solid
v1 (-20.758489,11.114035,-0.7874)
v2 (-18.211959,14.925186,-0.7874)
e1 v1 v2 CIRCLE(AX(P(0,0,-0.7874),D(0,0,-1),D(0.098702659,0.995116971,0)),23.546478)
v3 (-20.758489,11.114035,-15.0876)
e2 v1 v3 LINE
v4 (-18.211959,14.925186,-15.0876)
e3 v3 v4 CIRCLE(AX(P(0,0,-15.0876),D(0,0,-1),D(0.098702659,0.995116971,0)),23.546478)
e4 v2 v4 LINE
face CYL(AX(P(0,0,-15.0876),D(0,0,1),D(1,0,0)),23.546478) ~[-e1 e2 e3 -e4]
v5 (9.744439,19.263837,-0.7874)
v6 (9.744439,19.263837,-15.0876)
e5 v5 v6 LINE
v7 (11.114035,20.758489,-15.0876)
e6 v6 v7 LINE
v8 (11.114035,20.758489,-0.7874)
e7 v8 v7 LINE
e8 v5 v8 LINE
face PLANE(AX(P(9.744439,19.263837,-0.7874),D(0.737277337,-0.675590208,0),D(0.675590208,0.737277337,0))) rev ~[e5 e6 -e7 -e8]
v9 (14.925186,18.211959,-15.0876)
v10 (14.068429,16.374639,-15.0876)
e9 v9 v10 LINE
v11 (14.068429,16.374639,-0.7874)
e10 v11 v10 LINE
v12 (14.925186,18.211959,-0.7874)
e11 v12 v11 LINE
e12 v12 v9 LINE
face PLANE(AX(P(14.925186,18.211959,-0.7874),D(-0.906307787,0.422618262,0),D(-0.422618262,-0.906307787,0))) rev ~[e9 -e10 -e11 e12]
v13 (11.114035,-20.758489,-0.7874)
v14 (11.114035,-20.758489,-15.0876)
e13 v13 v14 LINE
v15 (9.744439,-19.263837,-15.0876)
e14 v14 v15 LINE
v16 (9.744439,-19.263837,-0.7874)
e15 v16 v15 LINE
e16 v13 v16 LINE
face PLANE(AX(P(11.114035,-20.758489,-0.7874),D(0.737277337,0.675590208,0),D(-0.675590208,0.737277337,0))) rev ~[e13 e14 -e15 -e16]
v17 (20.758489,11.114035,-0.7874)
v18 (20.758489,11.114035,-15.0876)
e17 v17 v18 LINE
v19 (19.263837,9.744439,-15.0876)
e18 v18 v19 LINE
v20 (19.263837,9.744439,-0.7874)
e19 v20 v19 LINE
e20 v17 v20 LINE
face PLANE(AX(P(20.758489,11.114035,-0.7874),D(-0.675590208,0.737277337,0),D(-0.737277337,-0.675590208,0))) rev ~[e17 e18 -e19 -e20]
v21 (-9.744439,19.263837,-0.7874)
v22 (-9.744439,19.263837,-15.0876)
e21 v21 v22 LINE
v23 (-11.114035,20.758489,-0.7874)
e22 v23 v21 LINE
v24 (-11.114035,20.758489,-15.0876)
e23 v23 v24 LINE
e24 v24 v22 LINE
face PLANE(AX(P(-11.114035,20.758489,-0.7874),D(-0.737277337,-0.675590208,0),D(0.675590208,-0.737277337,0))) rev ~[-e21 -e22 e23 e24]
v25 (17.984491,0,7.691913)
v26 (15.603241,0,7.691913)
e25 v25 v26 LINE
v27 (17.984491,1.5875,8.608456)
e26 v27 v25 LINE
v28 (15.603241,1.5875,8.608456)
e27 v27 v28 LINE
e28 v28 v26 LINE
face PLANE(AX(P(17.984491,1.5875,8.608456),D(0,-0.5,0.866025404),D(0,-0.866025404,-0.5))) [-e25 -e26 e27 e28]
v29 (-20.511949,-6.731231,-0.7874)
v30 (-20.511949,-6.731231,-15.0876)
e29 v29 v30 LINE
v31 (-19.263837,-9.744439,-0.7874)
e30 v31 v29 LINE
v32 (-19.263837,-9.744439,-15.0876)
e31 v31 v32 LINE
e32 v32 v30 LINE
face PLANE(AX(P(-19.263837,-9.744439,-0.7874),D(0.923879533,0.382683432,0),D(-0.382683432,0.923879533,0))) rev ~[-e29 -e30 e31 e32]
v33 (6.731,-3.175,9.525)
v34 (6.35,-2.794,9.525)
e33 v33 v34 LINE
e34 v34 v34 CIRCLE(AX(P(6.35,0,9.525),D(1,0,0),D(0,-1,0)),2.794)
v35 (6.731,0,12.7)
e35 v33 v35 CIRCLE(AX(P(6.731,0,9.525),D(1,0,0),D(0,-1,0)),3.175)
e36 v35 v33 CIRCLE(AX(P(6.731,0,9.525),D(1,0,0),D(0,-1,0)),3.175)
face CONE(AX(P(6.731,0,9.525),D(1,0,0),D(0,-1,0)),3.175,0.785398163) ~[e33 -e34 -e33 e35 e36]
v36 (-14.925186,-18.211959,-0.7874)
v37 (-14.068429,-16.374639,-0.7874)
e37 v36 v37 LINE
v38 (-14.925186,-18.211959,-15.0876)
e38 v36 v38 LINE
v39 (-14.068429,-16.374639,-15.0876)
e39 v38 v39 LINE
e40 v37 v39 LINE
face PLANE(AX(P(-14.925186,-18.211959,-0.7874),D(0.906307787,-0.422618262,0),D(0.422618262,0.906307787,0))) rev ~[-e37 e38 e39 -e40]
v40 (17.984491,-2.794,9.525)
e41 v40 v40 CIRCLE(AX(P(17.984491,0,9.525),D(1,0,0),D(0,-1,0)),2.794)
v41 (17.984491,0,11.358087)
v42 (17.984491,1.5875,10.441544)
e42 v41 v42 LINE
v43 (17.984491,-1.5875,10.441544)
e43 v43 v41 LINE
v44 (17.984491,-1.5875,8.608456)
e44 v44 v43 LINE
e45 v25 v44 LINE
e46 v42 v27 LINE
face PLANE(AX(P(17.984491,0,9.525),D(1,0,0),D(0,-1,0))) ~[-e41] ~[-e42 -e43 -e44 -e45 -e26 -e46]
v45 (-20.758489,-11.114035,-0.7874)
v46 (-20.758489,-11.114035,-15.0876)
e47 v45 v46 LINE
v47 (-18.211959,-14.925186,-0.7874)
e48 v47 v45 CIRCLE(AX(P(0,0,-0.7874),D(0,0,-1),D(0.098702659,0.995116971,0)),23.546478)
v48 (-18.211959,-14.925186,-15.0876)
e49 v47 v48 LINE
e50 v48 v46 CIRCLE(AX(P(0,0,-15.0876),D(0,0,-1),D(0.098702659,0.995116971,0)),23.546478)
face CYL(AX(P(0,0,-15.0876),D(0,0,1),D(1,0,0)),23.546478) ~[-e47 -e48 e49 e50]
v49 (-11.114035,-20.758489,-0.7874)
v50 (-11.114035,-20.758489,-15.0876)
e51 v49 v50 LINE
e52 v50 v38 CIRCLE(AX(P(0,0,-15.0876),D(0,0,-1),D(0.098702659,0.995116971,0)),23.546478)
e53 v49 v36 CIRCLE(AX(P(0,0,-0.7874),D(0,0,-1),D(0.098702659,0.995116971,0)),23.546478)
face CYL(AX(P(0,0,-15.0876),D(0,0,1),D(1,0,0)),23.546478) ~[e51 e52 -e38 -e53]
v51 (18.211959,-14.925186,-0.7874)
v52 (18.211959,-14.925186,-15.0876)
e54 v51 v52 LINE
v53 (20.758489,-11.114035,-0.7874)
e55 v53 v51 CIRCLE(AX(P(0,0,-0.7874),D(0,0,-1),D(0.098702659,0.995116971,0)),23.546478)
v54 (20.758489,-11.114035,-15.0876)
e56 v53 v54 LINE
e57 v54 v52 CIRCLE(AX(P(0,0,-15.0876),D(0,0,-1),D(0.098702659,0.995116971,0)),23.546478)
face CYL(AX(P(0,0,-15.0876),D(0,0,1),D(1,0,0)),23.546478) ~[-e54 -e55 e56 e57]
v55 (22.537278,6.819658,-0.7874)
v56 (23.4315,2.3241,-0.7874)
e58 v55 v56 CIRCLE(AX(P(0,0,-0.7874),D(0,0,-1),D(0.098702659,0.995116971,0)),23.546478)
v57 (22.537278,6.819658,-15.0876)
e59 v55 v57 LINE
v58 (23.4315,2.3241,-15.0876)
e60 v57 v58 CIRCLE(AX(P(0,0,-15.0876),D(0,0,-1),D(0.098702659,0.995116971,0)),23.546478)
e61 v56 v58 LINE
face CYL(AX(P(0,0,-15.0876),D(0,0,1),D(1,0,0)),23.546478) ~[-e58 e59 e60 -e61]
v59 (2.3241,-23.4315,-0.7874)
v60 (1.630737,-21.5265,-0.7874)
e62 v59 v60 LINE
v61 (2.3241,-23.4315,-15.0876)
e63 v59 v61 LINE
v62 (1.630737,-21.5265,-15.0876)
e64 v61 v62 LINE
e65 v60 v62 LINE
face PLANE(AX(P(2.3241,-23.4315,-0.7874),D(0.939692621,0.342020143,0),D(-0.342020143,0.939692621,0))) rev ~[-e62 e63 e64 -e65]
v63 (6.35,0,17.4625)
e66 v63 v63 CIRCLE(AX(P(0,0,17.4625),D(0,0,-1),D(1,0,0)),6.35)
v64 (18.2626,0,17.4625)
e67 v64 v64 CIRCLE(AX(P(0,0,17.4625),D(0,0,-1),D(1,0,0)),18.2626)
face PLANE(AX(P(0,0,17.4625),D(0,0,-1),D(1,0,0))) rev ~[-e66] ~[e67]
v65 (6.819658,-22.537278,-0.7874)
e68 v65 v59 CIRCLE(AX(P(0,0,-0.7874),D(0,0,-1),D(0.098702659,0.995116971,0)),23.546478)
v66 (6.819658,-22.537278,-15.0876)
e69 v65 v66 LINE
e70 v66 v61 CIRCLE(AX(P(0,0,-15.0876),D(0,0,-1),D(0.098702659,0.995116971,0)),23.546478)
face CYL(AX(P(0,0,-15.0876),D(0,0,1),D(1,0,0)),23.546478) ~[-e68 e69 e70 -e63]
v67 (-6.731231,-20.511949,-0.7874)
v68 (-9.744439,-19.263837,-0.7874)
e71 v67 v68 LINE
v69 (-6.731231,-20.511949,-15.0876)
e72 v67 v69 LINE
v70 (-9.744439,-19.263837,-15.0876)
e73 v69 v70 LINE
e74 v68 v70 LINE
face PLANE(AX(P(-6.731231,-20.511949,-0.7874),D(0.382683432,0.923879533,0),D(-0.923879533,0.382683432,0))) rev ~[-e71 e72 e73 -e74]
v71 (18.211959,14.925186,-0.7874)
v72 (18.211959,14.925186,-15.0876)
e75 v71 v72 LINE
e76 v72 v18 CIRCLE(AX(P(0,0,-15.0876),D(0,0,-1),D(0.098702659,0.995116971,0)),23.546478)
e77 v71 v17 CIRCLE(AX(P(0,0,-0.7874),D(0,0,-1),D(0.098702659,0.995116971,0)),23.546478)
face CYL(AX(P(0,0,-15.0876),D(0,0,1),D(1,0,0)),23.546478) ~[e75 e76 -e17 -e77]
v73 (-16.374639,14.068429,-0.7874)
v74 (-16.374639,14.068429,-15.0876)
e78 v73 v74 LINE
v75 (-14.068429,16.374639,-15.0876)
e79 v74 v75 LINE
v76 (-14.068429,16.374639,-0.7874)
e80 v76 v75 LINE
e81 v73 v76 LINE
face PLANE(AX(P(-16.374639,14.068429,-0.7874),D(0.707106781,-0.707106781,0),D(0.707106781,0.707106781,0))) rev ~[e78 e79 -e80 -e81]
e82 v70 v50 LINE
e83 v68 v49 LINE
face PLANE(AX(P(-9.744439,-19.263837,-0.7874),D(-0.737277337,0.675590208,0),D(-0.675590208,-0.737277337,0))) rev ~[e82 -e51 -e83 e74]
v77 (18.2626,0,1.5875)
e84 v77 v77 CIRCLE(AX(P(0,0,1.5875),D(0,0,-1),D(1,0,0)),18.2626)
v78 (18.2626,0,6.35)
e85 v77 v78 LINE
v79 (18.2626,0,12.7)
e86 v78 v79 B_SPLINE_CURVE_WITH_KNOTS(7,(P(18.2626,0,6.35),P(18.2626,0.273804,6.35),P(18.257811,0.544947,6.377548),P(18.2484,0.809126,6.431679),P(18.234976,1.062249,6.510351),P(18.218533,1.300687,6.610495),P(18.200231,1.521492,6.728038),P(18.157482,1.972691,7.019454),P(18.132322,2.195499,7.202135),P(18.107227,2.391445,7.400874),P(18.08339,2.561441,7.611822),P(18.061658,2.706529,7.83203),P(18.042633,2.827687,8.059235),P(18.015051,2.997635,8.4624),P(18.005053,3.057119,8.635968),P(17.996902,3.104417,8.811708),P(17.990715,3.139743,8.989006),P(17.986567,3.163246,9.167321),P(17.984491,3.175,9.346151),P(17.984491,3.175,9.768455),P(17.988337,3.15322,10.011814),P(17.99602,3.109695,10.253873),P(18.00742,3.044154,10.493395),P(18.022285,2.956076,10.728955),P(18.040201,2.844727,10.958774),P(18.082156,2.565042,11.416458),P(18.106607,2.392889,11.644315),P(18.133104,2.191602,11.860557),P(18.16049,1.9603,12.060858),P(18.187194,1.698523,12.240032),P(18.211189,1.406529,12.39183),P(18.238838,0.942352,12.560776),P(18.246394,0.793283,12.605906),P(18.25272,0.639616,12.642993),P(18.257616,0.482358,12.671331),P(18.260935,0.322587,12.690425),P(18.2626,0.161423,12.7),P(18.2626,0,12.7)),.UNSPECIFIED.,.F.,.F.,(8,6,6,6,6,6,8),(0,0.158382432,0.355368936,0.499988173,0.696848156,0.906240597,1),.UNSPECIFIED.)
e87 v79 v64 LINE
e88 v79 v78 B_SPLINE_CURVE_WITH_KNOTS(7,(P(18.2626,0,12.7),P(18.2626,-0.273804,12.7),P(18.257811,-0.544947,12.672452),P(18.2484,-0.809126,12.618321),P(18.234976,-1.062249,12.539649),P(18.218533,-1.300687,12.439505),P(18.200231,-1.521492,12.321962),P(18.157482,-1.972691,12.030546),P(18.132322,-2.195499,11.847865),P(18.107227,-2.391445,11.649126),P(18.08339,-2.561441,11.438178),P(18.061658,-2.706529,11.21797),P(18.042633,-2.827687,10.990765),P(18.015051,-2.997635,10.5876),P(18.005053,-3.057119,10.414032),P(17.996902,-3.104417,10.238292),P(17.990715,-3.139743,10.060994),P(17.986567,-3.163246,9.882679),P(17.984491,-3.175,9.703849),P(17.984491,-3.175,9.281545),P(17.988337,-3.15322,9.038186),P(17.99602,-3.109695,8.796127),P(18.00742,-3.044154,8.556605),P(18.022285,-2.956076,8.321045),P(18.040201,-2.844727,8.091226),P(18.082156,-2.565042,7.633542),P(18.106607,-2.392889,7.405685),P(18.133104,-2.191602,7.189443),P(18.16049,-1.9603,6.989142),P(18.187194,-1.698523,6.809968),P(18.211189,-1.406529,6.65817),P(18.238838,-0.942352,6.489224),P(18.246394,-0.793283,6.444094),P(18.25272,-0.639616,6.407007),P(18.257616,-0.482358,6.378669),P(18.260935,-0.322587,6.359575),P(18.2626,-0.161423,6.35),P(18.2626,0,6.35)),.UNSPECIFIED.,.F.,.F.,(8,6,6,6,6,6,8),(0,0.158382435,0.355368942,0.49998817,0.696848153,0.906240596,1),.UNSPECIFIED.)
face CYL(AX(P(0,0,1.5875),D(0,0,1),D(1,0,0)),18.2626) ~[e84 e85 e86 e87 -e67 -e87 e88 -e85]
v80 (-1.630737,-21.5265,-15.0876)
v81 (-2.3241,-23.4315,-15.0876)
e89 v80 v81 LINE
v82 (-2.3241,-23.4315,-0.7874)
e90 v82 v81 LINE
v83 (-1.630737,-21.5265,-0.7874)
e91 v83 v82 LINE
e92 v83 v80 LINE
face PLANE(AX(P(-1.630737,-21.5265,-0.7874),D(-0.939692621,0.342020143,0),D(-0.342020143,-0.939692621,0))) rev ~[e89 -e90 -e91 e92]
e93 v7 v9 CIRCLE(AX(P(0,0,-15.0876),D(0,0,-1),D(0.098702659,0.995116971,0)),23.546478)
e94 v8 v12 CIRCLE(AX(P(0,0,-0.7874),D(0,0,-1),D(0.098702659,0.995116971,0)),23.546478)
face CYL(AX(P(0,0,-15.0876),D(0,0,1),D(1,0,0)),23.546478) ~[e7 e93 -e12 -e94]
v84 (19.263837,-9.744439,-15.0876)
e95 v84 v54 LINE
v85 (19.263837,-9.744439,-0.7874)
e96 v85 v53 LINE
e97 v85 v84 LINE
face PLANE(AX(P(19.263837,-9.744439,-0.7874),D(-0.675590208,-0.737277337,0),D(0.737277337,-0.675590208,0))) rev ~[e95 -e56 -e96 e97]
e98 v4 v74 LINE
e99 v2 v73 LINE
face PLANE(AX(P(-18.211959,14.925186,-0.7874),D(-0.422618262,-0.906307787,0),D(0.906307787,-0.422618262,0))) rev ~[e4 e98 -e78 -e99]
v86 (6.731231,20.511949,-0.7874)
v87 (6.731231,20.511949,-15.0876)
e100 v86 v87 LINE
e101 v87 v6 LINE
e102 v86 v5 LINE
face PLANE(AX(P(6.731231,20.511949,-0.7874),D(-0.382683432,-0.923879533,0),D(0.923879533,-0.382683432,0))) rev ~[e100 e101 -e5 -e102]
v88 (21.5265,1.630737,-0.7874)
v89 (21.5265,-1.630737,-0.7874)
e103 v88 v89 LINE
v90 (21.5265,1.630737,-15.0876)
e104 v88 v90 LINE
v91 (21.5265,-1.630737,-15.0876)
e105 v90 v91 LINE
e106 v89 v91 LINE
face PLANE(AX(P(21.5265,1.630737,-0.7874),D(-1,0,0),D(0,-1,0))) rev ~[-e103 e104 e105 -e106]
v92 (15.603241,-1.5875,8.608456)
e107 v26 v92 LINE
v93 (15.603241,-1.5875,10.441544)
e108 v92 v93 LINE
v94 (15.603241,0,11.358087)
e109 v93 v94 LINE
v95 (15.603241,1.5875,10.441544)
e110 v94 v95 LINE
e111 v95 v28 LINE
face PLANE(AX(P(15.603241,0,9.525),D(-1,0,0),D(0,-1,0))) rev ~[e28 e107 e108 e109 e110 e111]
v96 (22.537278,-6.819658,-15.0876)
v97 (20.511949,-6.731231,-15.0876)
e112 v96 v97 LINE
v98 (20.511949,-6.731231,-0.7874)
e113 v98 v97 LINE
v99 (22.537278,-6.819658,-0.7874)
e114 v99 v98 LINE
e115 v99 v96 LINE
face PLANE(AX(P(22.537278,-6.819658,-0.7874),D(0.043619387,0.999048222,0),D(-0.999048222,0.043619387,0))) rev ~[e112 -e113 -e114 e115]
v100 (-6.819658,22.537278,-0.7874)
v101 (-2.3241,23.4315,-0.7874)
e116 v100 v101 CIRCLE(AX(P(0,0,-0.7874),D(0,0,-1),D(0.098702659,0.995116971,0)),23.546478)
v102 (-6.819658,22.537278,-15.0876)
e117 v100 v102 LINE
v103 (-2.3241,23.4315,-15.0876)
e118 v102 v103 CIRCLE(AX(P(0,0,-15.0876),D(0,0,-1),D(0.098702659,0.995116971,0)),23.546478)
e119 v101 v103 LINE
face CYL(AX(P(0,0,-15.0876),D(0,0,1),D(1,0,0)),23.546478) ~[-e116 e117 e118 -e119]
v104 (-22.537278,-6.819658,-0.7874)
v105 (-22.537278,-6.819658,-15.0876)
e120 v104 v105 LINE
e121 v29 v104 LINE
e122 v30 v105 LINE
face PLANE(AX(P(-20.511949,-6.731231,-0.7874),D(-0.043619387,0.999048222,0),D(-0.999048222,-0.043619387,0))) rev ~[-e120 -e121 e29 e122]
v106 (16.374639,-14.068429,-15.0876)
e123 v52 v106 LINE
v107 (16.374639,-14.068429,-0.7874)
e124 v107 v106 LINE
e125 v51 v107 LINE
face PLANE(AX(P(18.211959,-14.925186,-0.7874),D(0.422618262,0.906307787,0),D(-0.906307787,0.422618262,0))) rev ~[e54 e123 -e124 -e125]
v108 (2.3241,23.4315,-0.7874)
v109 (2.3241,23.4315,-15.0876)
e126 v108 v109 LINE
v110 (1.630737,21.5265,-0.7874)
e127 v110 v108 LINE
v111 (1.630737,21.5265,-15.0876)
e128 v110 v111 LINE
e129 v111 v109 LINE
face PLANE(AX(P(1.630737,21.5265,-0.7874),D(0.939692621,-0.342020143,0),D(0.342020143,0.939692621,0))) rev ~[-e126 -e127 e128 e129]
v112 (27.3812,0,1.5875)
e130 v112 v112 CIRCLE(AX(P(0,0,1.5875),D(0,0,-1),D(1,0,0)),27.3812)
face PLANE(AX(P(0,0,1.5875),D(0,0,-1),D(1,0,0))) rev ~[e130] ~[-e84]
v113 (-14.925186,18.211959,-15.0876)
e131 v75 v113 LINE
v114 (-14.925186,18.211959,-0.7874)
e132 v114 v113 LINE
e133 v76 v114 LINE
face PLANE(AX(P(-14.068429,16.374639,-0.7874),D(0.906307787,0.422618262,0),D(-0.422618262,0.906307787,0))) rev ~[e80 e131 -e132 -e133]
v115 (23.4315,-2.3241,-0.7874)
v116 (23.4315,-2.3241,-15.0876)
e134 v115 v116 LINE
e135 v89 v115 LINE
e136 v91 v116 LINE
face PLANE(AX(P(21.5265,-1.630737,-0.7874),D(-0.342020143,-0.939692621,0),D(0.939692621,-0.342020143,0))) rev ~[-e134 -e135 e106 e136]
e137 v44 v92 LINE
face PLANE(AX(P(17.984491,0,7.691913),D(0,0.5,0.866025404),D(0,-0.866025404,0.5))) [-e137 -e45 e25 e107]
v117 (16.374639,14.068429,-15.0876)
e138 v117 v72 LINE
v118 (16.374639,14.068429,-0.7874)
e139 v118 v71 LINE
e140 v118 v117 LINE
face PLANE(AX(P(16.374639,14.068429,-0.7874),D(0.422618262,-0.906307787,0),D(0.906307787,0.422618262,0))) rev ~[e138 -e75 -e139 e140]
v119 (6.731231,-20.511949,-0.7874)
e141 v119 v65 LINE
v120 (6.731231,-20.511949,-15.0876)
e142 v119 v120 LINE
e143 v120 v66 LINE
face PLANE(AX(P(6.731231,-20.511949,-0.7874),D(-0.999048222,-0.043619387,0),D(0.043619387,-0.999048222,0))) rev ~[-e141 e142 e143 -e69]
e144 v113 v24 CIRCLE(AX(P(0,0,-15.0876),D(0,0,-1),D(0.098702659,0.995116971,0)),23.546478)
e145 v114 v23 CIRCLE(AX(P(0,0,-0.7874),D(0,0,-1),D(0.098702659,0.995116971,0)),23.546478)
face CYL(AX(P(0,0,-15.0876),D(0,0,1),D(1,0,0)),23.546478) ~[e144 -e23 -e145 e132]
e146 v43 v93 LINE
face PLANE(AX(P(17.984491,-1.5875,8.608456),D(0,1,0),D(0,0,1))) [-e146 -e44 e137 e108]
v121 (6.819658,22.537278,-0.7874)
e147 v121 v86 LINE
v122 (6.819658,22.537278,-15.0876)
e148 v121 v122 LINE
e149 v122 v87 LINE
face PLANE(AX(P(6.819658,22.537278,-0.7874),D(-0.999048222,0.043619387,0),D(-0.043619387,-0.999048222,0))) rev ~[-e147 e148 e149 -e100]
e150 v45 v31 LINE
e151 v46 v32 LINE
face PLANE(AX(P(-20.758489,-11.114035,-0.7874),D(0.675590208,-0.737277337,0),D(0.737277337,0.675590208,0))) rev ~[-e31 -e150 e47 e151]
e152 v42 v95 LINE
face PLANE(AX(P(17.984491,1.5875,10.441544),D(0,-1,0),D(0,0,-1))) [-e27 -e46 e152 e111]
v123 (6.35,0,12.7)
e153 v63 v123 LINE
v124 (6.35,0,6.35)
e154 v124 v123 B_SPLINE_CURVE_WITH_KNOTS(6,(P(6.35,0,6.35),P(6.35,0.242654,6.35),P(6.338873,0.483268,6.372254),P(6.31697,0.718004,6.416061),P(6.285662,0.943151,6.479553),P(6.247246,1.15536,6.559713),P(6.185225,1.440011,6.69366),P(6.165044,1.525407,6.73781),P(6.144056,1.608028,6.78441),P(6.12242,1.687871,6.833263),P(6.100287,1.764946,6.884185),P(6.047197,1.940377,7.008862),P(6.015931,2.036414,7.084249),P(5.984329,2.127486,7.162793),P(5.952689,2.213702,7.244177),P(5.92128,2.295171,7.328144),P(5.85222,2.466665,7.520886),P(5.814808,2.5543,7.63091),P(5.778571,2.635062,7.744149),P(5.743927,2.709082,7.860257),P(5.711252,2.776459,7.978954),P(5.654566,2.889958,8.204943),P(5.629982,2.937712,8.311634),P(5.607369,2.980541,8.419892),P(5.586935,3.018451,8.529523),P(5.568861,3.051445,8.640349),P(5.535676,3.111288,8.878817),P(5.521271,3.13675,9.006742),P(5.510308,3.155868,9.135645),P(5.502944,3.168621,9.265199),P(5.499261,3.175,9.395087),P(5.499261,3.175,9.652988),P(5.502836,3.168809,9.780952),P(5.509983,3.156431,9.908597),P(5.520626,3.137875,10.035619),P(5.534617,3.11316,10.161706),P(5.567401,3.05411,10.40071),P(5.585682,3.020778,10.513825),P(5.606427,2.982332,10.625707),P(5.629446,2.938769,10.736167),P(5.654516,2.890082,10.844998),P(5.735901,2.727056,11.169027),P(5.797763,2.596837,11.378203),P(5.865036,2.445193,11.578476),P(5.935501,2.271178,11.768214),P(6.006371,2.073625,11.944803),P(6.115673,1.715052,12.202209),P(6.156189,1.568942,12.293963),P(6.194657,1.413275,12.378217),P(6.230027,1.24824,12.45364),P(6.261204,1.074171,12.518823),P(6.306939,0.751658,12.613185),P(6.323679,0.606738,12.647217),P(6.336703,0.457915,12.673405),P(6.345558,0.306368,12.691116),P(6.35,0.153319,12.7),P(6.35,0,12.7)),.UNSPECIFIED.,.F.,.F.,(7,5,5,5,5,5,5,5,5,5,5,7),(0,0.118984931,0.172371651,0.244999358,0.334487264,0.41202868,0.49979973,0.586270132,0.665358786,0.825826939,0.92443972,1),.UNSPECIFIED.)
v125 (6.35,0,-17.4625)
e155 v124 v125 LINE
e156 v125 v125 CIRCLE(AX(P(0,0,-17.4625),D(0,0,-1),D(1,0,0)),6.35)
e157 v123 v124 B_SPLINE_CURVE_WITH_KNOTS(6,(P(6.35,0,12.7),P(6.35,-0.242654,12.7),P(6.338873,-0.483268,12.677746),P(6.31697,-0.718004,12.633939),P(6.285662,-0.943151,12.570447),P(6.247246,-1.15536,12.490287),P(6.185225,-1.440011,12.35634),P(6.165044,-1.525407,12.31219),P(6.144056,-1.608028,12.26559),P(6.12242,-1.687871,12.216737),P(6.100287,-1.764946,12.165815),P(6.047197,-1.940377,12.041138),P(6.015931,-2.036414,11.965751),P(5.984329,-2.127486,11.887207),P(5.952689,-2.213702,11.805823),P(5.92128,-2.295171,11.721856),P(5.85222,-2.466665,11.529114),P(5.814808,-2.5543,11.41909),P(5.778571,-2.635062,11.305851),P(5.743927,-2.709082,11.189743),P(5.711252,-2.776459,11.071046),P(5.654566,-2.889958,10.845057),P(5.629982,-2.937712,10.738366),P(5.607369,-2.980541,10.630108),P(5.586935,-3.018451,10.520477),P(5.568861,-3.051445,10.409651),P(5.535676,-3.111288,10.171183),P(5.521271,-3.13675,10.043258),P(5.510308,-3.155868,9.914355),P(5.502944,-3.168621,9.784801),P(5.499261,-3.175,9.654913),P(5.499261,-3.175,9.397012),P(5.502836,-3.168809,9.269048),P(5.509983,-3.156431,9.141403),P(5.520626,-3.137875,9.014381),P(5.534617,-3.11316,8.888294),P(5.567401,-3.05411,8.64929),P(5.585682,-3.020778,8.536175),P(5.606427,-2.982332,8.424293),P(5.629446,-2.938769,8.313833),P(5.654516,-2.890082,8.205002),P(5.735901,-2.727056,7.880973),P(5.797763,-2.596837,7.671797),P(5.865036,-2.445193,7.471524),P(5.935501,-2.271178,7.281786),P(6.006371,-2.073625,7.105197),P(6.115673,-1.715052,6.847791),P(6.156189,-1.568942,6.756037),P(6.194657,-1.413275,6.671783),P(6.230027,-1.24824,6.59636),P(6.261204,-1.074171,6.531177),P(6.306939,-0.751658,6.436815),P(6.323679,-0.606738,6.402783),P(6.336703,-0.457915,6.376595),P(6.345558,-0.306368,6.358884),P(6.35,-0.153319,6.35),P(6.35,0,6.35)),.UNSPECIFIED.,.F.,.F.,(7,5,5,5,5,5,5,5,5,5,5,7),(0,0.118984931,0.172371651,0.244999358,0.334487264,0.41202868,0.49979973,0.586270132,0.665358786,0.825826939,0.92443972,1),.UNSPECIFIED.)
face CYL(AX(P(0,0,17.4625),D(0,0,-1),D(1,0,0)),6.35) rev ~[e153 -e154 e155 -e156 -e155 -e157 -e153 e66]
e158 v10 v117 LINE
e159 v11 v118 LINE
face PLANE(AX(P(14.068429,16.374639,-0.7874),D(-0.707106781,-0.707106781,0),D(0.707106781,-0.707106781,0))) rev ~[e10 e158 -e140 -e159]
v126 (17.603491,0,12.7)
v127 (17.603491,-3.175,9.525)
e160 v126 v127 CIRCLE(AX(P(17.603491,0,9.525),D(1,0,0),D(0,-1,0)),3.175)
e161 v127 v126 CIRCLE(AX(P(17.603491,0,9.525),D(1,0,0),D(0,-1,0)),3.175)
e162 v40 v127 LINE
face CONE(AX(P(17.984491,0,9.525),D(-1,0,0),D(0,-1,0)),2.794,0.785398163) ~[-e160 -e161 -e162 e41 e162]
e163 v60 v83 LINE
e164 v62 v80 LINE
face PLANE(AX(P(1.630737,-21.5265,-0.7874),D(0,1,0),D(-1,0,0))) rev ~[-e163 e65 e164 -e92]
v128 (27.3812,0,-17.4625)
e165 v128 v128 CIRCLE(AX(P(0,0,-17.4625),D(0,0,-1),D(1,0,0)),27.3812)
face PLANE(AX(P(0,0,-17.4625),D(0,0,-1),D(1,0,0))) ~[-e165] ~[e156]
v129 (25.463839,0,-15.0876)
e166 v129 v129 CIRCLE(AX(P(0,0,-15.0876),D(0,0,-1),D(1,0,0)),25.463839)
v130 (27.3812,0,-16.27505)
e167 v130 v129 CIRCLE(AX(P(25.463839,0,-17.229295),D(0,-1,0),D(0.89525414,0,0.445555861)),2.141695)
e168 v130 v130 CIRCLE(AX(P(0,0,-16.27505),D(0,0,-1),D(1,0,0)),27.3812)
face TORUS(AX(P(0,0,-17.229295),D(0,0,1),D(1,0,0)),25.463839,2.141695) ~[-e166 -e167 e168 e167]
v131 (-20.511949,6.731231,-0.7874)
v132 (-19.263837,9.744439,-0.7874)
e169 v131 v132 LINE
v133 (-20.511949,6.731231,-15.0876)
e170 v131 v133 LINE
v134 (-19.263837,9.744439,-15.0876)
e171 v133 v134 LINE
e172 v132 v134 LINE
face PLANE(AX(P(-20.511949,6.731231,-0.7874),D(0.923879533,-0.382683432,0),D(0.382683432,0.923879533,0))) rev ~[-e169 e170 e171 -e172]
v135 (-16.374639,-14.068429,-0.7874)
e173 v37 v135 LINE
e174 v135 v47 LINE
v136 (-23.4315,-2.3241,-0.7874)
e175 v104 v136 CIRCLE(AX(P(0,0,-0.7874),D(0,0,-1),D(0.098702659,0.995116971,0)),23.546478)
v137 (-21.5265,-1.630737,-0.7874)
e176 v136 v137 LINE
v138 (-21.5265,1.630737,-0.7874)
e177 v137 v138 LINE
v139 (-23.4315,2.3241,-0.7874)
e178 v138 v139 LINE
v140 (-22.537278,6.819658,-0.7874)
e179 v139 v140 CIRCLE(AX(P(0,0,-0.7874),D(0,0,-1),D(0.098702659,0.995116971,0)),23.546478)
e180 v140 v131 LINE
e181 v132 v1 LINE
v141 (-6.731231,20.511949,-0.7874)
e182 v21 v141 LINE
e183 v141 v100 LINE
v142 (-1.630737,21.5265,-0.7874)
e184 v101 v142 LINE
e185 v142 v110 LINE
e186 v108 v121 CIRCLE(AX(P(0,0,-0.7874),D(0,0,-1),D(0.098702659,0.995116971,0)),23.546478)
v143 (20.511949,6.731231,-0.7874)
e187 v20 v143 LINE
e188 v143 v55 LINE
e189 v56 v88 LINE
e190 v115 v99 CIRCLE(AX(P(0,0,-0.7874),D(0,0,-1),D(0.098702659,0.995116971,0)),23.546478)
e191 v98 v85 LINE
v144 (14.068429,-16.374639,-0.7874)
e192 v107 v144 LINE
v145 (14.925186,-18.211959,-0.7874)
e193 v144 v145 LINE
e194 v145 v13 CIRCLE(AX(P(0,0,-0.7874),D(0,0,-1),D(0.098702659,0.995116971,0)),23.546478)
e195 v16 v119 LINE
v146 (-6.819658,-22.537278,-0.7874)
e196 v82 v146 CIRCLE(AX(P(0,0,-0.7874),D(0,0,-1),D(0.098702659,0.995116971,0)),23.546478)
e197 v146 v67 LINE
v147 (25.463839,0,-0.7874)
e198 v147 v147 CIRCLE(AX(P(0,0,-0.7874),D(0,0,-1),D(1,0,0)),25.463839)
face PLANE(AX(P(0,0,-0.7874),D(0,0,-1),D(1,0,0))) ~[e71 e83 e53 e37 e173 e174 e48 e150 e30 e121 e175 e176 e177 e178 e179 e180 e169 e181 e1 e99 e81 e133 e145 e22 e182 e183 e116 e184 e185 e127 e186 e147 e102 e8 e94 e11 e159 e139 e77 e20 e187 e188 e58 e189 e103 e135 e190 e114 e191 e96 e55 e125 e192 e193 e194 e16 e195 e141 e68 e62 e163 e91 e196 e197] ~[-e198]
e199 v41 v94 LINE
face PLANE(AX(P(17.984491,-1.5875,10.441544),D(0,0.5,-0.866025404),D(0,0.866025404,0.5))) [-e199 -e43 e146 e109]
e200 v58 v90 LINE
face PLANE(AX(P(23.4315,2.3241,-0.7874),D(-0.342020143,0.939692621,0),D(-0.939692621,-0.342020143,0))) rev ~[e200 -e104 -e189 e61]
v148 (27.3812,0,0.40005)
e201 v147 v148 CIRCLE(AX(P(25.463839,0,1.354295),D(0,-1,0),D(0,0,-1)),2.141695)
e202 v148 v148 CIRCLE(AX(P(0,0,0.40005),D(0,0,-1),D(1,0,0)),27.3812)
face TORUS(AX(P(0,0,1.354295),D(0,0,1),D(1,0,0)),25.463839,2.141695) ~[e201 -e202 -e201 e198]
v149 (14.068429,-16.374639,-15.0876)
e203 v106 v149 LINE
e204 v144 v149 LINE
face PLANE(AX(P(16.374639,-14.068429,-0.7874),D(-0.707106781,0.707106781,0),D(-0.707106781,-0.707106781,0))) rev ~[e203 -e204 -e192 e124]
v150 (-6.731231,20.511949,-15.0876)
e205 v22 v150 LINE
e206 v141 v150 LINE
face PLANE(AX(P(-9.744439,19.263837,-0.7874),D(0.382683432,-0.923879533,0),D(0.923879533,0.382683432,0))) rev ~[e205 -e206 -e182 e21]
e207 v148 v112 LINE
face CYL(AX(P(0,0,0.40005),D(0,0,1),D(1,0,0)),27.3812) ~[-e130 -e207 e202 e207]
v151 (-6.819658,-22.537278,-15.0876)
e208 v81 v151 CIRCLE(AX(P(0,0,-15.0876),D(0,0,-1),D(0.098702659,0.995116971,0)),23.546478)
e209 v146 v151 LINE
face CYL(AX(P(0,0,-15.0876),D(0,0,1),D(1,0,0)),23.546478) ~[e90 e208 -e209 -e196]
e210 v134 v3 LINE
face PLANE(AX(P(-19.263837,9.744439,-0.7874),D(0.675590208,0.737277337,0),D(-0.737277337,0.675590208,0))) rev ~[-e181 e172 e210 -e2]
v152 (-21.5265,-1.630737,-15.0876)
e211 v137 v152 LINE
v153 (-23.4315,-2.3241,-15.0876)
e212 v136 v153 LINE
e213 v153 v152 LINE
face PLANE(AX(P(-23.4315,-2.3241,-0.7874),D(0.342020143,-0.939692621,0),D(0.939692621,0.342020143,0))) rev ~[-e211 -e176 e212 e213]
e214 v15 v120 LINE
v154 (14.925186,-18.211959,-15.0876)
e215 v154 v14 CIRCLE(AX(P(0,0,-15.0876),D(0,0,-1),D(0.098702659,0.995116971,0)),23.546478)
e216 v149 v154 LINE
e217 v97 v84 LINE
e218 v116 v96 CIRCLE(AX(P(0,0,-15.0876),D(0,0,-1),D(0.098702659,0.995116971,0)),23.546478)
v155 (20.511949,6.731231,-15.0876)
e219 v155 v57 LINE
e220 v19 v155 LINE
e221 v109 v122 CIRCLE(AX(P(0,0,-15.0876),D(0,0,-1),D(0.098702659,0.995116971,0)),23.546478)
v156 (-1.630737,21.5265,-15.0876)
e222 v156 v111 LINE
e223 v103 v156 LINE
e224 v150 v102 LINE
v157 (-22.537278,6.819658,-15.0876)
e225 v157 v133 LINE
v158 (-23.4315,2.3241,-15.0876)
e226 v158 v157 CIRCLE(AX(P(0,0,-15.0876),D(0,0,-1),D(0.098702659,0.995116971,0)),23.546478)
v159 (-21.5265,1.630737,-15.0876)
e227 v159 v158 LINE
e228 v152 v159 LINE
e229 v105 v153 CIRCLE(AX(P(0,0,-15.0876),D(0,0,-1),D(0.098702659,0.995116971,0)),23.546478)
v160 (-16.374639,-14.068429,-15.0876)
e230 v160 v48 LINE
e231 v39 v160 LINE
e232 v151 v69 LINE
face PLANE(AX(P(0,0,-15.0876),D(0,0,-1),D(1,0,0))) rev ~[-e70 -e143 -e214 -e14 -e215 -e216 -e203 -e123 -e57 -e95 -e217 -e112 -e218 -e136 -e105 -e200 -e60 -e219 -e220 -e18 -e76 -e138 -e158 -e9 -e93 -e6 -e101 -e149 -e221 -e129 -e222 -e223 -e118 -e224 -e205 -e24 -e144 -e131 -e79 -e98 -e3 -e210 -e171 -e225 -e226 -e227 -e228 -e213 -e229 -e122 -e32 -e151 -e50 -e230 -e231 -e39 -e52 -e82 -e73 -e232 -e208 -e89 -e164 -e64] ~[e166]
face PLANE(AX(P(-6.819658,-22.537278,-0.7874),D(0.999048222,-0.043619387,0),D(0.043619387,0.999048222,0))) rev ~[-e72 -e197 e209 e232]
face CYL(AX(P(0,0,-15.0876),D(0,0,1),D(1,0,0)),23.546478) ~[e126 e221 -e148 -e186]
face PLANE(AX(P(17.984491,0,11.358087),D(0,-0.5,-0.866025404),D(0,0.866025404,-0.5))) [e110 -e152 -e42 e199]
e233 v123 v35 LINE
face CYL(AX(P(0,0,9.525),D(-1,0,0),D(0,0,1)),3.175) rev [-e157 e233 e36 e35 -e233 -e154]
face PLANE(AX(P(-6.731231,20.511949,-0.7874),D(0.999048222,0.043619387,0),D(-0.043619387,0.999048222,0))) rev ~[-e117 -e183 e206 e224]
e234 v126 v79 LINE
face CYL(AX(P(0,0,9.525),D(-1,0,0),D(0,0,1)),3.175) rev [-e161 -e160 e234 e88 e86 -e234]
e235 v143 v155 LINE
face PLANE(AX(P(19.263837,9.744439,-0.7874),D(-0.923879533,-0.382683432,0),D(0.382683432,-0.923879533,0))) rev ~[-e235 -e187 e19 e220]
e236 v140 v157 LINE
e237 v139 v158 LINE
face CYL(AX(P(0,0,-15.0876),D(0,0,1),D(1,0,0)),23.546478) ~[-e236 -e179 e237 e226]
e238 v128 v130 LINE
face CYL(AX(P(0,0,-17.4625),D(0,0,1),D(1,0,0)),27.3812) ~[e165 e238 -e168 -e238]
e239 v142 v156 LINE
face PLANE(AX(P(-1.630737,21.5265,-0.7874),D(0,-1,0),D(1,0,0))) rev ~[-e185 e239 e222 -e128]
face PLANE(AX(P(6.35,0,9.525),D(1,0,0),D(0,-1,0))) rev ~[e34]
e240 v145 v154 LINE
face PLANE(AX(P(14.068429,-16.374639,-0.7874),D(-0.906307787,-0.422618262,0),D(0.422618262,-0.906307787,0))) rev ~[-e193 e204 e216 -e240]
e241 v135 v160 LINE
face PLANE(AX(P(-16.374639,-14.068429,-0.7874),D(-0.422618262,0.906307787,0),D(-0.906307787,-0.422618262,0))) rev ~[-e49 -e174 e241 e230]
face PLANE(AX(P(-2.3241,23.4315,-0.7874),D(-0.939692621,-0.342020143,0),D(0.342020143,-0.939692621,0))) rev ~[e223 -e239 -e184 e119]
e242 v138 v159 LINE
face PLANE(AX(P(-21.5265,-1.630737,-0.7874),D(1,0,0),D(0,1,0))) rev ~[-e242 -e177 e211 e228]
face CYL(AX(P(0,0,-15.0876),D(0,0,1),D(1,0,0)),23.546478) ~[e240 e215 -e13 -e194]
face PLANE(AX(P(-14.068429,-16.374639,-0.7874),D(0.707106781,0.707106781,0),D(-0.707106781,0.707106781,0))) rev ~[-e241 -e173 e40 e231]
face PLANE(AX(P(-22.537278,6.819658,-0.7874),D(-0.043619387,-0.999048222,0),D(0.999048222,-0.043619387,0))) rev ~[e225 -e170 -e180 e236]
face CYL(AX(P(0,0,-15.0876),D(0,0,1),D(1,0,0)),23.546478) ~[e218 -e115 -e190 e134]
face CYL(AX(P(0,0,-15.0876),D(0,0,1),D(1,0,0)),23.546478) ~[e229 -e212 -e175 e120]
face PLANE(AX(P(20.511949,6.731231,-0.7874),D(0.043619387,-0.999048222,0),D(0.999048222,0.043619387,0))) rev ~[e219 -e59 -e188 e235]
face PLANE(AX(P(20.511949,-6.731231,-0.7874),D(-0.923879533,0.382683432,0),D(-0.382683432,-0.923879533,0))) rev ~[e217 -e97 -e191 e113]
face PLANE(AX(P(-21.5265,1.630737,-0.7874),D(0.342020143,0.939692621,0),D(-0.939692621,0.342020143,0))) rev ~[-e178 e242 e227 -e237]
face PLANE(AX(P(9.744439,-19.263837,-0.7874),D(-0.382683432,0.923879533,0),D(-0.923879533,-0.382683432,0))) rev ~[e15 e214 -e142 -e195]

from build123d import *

# Parameters (mm, degrees)
CUT_EXTRUDE1_START = -0.7874
CUT_EXTRUDE1_DEPTH = 14.3002
CIRPATTERN1_COUNT  = 16
SKETCH4_R          = 3.175
CUT_EXTRUDE2_DEPTH = 43.478219515
CUT_EXTRUDE3_DEPTH = 2.38125


with BuildPart() as part:
    # Sketch2 → Revolve1 (revolve)
    with BuildSketch(Plane(origin=(0, 0, 0), x_dir=(0, 0, -1), z_dir=(1, 0, 0)), mode=Mode.PRIVATE) as revolve1_sk:
        with BuildLine():
            Line((-17.4625, 6.35), (17.4625, 6.35))
            Line((17.4625, 6.35), (17.4625, 27.3812))
            Line((17.4625, 27.3812), (16.27505, 27.3812))
            ThreePointArc((16.27505, 27.3812), (15.408504076, 26.591481572), (15.0876, 25.463839073))
            Line((15.0876, 25.463839073), (15.0876, 23.546478146))
            Line((15.0876, 23.546478146), (0.7874, 23.546478146))
            Line((0.7874, 23.546478146), (0.7874, 25.463839073))
            ThreePointArc((0.7874, 25.463839073), (0.466495924, 26.591481572), (-0.40005, 27.3812))
            Line((-0.40005, 27.3812), (-1.5875, 27.3812))
            Line((-1.5875, 27.3812), (-1.5875, 18.2626))
            Line((-1.5875, 18.2626), (-17.4625, 18.2626))
            Line((-17.4625, 18.2626), (-17.4625, 6.35))
        make_face()
    revolve(revolve1_sk.sketch.rotate(Axis((0, 0, 17.4625), (0, 0, -1)), 90), axis=Axis((0, 0, 17.4625), (0, 0, -1)))

    # Sketch3 → Cut-Extrude1 (cut)
    with BuildSketch(Plane.XY.offset(CUT_EXTRUDE1_START)):
        with BuildLine():
            Line((-1.630736704, 21.5265), (1.630736704, 21.5265))
            Line((1.630736704, 21.5265), (2.3241, 23.4315))
            ThreePointArc((2.3241, 23.4315), (0, 23.546478146), (-2.3241, 23.4315))
            Line((-2.3241, 23.4315), (-1.630736704, 21.5265))
        make_face()
    cut_extrude1 = extrude(amount=-CUT_EXTRUDE1_DEPTH, mode=Mode.SUBTRACT)

    # CirPattern1: Cut-Extrude1 ×16 about axis
    cirpattern1_axis = Axis((0, 0, 0), (0, 0, 1))
    for i in range(1, CIRPATTERN1_COUNT):
        add(cut_extrude1.rotate(cirpattern1_axis, i * 360 / CIRPATTERN1_COUNT), mode=Mode.SUBTRACT)

    # Sketch4 → Cut-Extrude2 (cut, through all)
    with BuildSketch(Plane(origin=(0, 0, 0), x_dir=(0, -1, 0), z_dir=(1, 0, 0))):
        with Locations(Location((0, -9.525, 0), (0, 0, 270))):
            Circle(SKETCH4_R)
    extrude(amount=CUT_EXTRUDE2_DEPTH, mode=Mode.SUBTRACT)

    # Sketch5 → Revolve2 (revolve)
    with BuildSketch(Plane.XY.offset(9.525)):
        Polygon((6.35, -2.794), (6.35, 0), (17.984491479, 0), (17.984491479, -2.794), (17.603491479, -3.175), (6.731, -3.175), align=None)
    revolve(axis=Axis((6.35, 0, 9.525), (1, 0, 0)))

    # Sketch6 → Cut-Extrude3 (cut)
    with BuildSketch(Plane(origin=(17.984491479, 5.384140679, 0), x_dir=(0, -1, 0), z_dir=(-1, 0, 0))):
        Polygon((5.384140679, 11.358087105), (3.796640679, 10.441543552), (3.796640679, 8.608456448), (5.384140679, 7.691912895), (6.971640679, 8.608456448), (6.971640679, 10.441543552), align=None)
    extrude(amount=CUT_EXTRUDE3_DEPTH, mode=Mode.SUBTRACT)


solid = part.part
